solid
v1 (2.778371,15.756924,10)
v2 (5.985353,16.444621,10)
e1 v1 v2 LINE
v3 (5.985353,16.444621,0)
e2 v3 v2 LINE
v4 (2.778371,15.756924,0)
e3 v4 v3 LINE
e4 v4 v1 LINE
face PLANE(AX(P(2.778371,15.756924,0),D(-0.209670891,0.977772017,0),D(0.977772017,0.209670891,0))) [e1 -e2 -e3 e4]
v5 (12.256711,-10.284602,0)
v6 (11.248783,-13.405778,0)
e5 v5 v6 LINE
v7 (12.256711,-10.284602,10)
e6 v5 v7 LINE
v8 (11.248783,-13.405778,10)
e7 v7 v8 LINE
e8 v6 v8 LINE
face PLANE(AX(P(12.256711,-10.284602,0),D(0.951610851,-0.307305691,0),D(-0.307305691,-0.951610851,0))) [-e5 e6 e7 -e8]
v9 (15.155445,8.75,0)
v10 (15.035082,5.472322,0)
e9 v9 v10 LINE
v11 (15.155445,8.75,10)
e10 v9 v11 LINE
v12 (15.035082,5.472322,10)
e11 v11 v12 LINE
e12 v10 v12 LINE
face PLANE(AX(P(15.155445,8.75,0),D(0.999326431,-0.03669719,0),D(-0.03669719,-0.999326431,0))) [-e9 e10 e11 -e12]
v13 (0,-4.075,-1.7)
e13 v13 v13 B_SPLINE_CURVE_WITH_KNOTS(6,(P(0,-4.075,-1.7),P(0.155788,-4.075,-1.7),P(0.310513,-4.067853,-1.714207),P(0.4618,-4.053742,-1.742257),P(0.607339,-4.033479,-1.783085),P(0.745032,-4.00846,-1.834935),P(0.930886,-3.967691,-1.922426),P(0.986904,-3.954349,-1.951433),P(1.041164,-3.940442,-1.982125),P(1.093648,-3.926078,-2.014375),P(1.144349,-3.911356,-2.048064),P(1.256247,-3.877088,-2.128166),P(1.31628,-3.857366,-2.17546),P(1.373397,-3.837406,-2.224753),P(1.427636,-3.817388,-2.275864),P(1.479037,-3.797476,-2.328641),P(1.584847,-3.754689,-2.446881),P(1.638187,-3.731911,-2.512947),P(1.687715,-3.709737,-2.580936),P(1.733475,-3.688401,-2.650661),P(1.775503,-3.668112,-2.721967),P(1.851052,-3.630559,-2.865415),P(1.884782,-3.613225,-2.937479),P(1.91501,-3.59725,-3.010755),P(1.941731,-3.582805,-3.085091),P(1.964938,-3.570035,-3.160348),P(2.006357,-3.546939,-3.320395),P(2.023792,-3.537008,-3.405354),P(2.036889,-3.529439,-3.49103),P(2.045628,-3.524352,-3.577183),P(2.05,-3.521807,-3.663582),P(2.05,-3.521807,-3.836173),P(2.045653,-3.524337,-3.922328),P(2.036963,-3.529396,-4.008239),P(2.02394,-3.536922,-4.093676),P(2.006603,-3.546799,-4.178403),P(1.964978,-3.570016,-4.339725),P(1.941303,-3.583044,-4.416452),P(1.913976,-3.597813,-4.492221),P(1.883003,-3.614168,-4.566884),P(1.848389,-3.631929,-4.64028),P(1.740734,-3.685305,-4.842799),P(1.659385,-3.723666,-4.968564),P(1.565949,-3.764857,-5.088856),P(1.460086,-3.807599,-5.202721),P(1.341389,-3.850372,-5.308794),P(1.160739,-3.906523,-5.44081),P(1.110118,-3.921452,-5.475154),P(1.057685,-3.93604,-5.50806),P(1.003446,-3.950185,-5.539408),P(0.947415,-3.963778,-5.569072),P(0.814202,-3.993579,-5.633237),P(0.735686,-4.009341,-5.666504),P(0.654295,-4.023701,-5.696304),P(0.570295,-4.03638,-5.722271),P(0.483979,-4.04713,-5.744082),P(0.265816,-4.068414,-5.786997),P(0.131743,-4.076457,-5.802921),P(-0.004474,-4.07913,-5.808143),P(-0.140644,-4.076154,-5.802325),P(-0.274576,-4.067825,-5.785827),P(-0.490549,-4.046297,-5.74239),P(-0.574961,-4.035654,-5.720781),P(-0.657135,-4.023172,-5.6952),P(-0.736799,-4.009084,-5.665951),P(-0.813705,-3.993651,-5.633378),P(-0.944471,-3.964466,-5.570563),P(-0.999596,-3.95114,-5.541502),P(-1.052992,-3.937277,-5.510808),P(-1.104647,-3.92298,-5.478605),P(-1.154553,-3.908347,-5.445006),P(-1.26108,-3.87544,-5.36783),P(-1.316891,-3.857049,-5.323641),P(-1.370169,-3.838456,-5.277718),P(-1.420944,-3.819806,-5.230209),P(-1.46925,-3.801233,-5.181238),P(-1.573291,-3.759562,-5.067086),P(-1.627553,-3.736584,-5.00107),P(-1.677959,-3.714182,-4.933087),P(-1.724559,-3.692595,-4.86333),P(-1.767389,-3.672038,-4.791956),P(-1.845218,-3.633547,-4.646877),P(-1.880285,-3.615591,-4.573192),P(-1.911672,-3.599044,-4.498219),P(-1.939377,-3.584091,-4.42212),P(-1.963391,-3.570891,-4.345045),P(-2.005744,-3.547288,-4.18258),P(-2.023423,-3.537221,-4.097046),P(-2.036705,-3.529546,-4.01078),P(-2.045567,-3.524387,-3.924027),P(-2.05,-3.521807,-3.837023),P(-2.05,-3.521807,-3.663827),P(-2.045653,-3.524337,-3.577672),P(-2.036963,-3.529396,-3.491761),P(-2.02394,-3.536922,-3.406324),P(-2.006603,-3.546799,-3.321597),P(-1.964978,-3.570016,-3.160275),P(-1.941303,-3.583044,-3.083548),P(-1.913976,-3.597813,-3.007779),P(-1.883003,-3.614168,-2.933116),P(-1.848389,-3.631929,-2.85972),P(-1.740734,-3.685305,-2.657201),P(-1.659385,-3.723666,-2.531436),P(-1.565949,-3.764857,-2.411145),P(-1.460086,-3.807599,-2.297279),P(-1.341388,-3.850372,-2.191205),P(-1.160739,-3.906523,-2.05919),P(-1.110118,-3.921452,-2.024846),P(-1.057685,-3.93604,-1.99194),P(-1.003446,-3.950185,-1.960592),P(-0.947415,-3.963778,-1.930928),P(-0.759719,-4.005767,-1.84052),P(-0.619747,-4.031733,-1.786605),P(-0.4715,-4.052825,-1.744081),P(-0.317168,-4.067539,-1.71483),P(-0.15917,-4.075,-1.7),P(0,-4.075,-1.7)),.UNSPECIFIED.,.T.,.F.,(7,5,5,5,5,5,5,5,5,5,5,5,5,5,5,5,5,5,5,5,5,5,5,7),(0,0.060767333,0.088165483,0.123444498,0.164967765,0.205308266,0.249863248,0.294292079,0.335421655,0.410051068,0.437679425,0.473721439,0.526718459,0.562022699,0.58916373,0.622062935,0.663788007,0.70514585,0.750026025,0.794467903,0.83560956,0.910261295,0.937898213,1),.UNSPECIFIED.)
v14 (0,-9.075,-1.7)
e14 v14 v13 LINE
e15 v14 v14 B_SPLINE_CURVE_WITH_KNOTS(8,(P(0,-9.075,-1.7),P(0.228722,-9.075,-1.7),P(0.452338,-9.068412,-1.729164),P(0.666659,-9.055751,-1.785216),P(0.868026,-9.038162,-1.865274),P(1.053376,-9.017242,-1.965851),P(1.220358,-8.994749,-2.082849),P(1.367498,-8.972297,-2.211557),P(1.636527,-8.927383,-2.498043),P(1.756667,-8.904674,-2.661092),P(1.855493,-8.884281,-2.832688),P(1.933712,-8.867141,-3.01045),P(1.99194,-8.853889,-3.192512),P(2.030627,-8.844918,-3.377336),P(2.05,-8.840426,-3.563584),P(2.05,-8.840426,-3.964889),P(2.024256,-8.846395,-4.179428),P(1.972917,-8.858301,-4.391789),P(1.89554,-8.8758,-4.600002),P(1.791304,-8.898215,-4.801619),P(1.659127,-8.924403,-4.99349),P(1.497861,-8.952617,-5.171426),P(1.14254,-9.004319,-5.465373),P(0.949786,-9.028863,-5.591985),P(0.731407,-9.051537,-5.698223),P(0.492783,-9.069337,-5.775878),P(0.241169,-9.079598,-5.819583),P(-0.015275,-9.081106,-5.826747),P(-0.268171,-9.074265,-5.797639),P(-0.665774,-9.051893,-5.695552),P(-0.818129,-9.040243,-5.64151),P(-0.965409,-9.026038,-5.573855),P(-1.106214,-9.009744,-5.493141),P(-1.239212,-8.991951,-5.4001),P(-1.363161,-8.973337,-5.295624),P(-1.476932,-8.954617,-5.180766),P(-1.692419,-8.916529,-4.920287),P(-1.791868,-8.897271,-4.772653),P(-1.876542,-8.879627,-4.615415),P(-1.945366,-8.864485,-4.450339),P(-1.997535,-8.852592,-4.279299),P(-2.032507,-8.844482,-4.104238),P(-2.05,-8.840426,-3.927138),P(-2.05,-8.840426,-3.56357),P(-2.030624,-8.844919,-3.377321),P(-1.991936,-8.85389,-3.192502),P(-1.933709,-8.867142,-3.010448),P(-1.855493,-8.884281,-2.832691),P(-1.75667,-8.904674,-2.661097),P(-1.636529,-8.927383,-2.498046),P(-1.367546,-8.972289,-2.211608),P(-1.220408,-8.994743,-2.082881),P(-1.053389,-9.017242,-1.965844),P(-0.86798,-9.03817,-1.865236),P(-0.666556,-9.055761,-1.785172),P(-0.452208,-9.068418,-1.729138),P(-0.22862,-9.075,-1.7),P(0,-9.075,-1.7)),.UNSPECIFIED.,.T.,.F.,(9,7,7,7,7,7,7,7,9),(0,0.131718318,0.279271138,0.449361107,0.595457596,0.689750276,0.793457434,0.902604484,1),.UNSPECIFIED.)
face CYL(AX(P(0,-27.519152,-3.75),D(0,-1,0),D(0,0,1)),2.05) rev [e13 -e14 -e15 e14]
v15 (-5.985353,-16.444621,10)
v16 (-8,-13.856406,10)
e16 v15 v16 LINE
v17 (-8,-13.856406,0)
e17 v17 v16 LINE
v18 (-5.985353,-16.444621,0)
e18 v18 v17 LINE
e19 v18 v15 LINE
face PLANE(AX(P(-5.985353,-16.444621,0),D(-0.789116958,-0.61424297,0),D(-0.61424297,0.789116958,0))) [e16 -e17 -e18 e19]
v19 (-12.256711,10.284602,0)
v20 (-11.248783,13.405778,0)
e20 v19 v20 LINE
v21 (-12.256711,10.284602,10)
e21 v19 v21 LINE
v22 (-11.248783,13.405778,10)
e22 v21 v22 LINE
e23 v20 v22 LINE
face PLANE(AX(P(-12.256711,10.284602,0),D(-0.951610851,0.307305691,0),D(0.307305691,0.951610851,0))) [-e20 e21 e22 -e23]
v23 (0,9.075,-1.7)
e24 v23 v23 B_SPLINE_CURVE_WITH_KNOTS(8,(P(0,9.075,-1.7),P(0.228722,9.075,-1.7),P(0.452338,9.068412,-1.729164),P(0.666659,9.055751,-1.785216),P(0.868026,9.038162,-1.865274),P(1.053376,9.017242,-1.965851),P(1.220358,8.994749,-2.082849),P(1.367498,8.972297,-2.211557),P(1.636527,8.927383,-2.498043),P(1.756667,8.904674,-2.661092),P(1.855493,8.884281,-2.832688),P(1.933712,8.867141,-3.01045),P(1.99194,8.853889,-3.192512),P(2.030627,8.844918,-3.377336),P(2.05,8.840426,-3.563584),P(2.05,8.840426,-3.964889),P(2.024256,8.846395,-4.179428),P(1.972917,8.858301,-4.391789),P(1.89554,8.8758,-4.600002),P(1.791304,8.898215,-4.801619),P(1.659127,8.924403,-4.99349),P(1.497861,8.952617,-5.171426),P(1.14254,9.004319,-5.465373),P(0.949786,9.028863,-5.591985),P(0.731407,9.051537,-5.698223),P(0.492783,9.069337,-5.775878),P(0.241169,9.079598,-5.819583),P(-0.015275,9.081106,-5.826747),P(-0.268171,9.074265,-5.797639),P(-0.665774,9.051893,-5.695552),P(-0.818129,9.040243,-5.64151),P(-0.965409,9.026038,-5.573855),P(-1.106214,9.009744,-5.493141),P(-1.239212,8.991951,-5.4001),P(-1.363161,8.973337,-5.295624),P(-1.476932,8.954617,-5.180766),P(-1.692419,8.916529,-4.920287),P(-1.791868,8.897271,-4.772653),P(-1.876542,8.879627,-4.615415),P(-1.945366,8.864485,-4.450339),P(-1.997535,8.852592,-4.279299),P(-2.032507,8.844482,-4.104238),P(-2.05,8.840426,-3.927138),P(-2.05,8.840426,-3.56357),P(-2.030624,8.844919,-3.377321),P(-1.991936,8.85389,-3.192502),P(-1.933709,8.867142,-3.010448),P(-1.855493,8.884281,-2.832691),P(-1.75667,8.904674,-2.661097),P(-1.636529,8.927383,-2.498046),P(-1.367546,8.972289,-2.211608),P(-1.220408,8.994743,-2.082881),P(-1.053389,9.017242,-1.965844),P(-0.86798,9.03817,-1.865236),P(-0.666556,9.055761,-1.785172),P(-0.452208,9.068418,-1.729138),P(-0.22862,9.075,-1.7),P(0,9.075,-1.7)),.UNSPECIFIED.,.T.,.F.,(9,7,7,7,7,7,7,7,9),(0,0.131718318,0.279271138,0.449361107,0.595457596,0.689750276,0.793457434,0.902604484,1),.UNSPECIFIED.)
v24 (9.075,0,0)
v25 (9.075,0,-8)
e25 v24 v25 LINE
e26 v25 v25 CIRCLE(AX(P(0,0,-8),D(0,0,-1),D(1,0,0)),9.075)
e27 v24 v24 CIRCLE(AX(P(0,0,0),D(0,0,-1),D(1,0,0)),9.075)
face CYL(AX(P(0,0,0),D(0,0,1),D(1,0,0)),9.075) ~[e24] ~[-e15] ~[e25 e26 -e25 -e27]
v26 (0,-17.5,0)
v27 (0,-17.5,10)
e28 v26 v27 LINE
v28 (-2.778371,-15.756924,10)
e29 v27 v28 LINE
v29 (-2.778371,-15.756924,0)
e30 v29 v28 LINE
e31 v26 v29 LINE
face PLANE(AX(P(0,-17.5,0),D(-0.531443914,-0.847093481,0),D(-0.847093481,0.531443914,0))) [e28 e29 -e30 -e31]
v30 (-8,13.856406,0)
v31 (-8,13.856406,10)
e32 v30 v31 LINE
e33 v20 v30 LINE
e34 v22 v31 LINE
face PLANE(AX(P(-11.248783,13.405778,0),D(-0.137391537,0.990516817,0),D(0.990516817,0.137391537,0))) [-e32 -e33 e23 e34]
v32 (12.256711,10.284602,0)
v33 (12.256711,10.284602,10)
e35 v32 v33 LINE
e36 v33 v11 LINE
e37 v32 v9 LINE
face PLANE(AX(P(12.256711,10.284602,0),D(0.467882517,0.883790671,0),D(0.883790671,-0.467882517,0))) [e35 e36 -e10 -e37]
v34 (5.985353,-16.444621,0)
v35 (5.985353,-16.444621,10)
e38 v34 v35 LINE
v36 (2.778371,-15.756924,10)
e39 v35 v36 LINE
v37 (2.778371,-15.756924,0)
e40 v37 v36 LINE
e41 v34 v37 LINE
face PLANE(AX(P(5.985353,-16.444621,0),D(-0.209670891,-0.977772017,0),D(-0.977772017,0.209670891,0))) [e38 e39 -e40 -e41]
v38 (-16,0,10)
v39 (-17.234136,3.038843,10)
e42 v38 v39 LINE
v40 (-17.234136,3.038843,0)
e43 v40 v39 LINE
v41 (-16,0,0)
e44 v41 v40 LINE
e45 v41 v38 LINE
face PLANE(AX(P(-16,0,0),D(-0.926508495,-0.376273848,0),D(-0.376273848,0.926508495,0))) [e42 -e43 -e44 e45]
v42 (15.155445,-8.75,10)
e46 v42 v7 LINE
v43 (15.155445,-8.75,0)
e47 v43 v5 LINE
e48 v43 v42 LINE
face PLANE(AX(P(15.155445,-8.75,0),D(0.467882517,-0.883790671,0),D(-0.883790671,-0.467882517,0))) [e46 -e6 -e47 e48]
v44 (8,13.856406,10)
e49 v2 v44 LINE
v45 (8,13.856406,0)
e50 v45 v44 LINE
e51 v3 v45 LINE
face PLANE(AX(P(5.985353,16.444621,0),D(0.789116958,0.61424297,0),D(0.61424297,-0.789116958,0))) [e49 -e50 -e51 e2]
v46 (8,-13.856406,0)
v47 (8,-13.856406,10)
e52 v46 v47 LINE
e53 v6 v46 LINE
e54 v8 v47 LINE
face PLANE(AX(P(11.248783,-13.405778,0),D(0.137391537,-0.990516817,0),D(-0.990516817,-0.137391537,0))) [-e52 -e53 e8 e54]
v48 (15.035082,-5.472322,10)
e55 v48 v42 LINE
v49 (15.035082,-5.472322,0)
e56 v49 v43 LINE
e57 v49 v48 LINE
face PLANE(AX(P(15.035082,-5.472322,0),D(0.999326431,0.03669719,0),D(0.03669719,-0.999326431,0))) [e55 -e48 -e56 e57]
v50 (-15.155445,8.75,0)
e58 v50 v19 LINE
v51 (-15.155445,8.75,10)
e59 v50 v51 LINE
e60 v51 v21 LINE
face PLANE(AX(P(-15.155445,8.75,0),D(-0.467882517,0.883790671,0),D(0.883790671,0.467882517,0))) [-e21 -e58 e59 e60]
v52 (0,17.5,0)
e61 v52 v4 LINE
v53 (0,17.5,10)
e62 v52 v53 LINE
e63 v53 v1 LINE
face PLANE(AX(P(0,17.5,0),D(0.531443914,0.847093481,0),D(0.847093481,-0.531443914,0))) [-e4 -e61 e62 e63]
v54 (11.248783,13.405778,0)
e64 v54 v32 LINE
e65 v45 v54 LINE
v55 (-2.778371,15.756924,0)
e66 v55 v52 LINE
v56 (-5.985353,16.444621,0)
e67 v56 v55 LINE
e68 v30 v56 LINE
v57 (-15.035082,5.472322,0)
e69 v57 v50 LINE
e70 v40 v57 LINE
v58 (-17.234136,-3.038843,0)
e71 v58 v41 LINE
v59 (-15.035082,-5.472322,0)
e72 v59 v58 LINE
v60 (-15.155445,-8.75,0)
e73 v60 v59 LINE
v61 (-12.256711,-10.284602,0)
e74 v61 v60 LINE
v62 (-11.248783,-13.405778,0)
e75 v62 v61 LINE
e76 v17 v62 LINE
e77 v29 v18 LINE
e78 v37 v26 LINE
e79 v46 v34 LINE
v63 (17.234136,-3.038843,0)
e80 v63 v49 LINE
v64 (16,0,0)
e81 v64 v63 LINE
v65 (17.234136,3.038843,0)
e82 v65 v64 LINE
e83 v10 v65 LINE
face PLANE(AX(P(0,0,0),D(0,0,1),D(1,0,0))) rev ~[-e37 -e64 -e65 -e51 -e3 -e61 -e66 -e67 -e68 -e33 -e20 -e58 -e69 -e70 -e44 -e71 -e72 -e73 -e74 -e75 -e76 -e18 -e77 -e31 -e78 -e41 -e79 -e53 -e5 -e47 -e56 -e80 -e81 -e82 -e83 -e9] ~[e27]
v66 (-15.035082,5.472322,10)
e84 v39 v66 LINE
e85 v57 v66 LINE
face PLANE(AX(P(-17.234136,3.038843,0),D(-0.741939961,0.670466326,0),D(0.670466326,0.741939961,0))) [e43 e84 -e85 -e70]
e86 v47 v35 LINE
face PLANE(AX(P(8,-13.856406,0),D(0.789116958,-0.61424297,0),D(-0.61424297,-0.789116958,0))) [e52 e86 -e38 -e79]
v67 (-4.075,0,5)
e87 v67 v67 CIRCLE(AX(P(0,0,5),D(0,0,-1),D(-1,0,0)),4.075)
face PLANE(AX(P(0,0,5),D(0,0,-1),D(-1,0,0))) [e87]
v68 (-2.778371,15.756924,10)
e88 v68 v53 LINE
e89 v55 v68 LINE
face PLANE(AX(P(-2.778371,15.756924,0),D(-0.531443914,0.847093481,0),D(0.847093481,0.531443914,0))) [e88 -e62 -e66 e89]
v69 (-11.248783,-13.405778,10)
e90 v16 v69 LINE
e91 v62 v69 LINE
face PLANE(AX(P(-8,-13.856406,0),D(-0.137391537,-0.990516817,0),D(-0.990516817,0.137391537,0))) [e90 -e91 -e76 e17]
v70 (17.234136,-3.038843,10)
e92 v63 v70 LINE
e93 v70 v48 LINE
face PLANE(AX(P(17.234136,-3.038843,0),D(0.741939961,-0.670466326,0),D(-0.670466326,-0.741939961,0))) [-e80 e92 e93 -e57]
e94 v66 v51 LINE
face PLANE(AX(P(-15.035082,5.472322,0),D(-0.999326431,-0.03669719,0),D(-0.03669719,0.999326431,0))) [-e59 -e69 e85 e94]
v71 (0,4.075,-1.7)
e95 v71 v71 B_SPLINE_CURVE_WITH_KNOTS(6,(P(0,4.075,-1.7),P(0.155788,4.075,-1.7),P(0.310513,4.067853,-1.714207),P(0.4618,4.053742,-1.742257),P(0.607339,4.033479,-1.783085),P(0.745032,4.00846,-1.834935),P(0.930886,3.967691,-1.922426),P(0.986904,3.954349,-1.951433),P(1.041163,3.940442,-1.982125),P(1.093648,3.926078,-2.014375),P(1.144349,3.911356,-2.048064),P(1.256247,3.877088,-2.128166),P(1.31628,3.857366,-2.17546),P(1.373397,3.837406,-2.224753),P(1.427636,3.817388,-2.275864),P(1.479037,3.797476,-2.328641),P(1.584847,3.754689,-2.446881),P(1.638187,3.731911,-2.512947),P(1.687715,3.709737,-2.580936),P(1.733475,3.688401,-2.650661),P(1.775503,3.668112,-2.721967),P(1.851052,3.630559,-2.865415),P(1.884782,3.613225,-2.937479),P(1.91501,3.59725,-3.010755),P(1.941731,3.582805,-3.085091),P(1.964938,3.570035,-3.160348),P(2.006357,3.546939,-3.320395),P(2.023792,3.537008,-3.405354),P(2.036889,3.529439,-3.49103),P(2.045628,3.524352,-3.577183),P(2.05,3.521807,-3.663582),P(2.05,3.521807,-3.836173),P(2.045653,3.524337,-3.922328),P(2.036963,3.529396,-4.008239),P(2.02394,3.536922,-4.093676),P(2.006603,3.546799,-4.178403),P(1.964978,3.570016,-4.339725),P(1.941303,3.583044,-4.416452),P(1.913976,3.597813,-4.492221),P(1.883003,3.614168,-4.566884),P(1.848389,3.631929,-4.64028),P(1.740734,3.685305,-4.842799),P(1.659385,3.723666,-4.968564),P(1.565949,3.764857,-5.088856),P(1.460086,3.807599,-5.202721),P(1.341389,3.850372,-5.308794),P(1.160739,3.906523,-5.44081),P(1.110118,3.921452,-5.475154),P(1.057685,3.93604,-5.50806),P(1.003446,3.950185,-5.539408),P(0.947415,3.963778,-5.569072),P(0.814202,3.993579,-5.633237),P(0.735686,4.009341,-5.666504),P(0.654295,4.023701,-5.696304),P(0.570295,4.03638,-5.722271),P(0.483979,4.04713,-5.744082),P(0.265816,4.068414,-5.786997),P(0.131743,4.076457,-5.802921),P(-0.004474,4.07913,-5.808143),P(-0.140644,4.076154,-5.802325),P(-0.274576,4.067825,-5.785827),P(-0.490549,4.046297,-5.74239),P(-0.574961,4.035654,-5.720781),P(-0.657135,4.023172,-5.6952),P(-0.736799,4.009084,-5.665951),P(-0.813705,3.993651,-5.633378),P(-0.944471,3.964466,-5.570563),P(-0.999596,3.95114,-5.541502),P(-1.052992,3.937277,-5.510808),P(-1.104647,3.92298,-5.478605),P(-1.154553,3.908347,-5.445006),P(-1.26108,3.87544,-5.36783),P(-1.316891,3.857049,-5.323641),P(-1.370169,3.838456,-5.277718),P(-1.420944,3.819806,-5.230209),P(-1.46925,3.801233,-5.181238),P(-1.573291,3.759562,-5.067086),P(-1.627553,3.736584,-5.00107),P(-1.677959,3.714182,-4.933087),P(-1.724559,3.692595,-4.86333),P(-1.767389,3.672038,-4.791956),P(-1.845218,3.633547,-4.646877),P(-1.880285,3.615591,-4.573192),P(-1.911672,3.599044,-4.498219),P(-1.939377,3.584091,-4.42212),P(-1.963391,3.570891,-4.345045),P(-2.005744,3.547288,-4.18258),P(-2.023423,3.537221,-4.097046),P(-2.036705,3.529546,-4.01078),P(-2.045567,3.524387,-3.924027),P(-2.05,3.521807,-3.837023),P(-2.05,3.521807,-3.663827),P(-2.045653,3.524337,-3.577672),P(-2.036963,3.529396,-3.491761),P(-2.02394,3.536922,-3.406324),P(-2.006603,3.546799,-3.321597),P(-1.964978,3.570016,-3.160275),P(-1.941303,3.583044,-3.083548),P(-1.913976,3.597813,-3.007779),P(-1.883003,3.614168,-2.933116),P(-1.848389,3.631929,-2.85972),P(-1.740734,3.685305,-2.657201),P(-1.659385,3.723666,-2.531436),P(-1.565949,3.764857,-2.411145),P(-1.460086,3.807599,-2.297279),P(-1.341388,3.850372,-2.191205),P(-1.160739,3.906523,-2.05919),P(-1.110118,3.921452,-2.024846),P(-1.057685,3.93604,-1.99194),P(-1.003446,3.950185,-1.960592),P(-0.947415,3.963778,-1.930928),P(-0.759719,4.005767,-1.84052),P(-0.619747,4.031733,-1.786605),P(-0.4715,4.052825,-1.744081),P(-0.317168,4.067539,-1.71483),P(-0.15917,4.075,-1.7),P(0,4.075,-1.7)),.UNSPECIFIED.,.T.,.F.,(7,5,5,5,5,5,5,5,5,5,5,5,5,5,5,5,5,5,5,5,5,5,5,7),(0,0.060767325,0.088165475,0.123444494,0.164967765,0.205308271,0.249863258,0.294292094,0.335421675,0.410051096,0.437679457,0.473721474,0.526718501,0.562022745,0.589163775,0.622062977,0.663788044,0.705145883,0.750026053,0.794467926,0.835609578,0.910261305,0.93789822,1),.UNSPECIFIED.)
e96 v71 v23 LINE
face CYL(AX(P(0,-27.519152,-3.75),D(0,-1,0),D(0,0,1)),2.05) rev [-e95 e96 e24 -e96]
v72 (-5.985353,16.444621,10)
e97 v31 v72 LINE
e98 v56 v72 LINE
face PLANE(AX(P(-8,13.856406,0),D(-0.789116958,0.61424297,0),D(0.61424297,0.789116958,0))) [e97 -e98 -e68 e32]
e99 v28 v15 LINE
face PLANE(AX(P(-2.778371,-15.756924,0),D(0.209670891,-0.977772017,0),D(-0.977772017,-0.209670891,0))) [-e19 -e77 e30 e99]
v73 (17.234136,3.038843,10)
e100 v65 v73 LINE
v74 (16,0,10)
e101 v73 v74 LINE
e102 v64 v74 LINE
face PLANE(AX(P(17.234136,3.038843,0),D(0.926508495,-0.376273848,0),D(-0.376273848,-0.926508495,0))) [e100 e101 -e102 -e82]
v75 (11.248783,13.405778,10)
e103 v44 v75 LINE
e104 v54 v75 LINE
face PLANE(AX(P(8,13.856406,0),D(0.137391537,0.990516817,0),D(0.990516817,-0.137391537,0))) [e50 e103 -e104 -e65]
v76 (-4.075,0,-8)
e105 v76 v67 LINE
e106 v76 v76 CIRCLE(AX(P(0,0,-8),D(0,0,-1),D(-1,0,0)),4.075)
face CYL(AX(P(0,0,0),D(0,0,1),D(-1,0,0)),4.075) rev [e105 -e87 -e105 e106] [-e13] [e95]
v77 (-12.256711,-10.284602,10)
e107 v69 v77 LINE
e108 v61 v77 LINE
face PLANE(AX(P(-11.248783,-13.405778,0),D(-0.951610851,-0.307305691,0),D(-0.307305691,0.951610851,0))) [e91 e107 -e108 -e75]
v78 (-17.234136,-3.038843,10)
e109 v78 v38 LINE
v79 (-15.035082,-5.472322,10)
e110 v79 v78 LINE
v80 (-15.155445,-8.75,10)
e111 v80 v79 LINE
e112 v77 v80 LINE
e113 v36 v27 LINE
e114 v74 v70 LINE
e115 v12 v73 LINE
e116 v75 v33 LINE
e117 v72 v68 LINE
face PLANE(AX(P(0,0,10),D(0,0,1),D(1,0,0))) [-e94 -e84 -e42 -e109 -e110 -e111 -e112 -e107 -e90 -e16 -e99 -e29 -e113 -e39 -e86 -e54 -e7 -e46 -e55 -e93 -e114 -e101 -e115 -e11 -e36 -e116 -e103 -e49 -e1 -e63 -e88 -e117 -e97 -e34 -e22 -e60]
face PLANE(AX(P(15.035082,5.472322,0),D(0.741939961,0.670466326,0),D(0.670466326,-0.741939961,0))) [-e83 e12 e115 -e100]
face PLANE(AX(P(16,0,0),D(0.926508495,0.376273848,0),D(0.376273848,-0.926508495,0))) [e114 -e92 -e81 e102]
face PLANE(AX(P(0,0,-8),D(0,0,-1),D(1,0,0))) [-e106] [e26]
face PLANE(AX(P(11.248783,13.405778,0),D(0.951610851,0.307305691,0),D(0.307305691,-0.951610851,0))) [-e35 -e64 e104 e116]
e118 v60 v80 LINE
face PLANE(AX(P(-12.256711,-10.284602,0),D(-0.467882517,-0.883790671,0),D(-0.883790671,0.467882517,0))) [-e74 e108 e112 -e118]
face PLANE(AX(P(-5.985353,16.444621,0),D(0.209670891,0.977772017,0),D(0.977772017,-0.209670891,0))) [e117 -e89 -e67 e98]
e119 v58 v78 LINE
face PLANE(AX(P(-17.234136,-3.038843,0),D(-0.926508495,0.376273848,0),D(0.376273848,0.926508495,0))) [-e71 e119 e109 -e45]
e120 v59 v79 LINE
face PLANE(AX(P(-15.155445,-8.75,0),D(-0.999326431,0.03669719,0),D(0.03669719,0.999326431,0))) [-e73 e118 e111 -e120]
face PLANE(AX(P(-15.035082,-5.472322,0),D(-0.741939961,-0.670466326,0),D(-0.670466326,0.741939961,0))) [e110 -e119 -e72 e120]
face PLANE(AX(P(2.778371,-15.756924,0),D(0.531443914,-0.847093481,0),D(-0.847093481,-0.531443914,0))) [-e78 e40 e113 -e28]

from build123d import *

# Parameters (mm, degrees)
CROQUIS1_R                 = 17.5
SALIENTE_EXTRUIR1_DEPTH    = 10
CROQUIS2_R                 = 9.075
CROQUIS2_R_2               = 4.075
SALIENTE_EXTRUIR2_DEPTH    = 8
CORTAR_EXTRUIR1_START      = -10
CROQUIS3_R                 = 19
CORTAR_EXTRUIR1_DEPTH      = 10
CORTAR_EXTRUIR2_DEPTH      = 27.519152184
CORTAR_EXTRUIR2_DEPTH_BACK = 27.519152184
CROQUIS4_R                 = 2.05
CORTAR_EXTRUIR3_START      = -5
CROQUIS5_R                 = 4.075
CORTAR_EXTRUIR3_DEPTH      = 5


with BuildPart() as part:
    # Croquis1 → Saliente-Extruir1 (new body)
    with BuildSketch(Plane.XY):
        Circle(CROQUIS1_R)
    extrude(amount=SALIENTE_EXTRUIR1_DEPTH)

    # Croquis2 → Saliente-Extruir2 (add)
    with BuildSketch(Plane(origin=(0, 0, 0), x_dir=(-1, 0, 0), z_dir=(0, 0, -1))):
        with Locations(Location((0, 0, 0), (0, 0, 180))):
            Circle(CROQUIS2_R)
        Circle(CROQUIS2_R_2, mode=Mode.SUBTRACT)
    extrude(amount=SALIENTE_EXTRUIR2_DEPTH)

    # Croquis3 → Cortar-Extruir1 (cut)
    with BuildSketch(Plane.XY.offset(10).offset(CORTAR_EXTRUIR1_START)):
        Circle(CROQUIS3_R)
        Polygon((0, 17.5), (2.778370843, 15.756924048), (5.985352508, 16.444620864), (8, 13.856406461), (11.24878317, 13.405777755), (12.25671109, 10.284601755), (15.155444566, 8.75), (15.035081933, 5.472322293), (17.234135678, 3.038843109), (16, 0), (17.234135678, -3.038843109), (15.035081933, -5.472322293), (15.155444566, -8.75), (12.25671109, -10.284601755), (11.24878317, -13.405777755), (8, -13.856406461), (5.985352508, -16.444620864), (2.778370843, -15.756924048), (0, -17.5), (-2.778370843, -15.756924048), (-5.985352508, -16.444620864), (-8, -13.856406461), (-11.24878317, -13.405777755), (-12.25671109, -10.284601755), (-15.155444566, -8.75), (-15.035081933, -5.472322293), (-17.234135678, -3.038843109), (-16, 0), (-17.234135678, 3.038843109), (-15.035081933, 5.472322293), (-15.155444566, 8.75), (-12.25671109, 10.284601755), (-11.24878317, 13.405777755), (-8, 13.856406461), (-5.985352508, 16.444620864), (-2.778370843, 15.756924048), align=None, mode=Mode.SUBTRACT)
    extrude(amount=CORTAR_EXTRUIR1_DEPTH, mode=Mode.SUBTRACT)

    # Croquis4 → Cortar-Extruir2 (cut, two sides: drawn at the far end of the back side and taken through both)
    with BuildSketch(Plane(origin=(0, 0, 0), x_dir=(1, 0, 0), z_dir=(0, 1, 0)).offset(-CORTAR_EXTRUIR2_DEPTH_BACK)):
        with Locations(Location((0, 3.75, 0), (0, 0, 270))):
            Circle(CROQUIS4_R)
    extrude(amount=CORTAR_EXTRUIR2_DEPTH + CORTAR_EXTRUIR2_DEPTH_BACK, mode=Mode.SUBTRACT)

    # Croquis5 → Cortar-Extruir3 (cut)
    with BuildSketch(Plane(origin=(0, 0, 0), x_dir=(-1, 0, 0), z_dir=(0, 0, -1)).offset(CORTAR_EXTRUIR3_START)):
        Circle(CROQUIS5_R)
    extrude(amount=CORTAR_EXTRUIR3_DEPTH, mode=Mode.SUBTRACT)


solid = part.part
